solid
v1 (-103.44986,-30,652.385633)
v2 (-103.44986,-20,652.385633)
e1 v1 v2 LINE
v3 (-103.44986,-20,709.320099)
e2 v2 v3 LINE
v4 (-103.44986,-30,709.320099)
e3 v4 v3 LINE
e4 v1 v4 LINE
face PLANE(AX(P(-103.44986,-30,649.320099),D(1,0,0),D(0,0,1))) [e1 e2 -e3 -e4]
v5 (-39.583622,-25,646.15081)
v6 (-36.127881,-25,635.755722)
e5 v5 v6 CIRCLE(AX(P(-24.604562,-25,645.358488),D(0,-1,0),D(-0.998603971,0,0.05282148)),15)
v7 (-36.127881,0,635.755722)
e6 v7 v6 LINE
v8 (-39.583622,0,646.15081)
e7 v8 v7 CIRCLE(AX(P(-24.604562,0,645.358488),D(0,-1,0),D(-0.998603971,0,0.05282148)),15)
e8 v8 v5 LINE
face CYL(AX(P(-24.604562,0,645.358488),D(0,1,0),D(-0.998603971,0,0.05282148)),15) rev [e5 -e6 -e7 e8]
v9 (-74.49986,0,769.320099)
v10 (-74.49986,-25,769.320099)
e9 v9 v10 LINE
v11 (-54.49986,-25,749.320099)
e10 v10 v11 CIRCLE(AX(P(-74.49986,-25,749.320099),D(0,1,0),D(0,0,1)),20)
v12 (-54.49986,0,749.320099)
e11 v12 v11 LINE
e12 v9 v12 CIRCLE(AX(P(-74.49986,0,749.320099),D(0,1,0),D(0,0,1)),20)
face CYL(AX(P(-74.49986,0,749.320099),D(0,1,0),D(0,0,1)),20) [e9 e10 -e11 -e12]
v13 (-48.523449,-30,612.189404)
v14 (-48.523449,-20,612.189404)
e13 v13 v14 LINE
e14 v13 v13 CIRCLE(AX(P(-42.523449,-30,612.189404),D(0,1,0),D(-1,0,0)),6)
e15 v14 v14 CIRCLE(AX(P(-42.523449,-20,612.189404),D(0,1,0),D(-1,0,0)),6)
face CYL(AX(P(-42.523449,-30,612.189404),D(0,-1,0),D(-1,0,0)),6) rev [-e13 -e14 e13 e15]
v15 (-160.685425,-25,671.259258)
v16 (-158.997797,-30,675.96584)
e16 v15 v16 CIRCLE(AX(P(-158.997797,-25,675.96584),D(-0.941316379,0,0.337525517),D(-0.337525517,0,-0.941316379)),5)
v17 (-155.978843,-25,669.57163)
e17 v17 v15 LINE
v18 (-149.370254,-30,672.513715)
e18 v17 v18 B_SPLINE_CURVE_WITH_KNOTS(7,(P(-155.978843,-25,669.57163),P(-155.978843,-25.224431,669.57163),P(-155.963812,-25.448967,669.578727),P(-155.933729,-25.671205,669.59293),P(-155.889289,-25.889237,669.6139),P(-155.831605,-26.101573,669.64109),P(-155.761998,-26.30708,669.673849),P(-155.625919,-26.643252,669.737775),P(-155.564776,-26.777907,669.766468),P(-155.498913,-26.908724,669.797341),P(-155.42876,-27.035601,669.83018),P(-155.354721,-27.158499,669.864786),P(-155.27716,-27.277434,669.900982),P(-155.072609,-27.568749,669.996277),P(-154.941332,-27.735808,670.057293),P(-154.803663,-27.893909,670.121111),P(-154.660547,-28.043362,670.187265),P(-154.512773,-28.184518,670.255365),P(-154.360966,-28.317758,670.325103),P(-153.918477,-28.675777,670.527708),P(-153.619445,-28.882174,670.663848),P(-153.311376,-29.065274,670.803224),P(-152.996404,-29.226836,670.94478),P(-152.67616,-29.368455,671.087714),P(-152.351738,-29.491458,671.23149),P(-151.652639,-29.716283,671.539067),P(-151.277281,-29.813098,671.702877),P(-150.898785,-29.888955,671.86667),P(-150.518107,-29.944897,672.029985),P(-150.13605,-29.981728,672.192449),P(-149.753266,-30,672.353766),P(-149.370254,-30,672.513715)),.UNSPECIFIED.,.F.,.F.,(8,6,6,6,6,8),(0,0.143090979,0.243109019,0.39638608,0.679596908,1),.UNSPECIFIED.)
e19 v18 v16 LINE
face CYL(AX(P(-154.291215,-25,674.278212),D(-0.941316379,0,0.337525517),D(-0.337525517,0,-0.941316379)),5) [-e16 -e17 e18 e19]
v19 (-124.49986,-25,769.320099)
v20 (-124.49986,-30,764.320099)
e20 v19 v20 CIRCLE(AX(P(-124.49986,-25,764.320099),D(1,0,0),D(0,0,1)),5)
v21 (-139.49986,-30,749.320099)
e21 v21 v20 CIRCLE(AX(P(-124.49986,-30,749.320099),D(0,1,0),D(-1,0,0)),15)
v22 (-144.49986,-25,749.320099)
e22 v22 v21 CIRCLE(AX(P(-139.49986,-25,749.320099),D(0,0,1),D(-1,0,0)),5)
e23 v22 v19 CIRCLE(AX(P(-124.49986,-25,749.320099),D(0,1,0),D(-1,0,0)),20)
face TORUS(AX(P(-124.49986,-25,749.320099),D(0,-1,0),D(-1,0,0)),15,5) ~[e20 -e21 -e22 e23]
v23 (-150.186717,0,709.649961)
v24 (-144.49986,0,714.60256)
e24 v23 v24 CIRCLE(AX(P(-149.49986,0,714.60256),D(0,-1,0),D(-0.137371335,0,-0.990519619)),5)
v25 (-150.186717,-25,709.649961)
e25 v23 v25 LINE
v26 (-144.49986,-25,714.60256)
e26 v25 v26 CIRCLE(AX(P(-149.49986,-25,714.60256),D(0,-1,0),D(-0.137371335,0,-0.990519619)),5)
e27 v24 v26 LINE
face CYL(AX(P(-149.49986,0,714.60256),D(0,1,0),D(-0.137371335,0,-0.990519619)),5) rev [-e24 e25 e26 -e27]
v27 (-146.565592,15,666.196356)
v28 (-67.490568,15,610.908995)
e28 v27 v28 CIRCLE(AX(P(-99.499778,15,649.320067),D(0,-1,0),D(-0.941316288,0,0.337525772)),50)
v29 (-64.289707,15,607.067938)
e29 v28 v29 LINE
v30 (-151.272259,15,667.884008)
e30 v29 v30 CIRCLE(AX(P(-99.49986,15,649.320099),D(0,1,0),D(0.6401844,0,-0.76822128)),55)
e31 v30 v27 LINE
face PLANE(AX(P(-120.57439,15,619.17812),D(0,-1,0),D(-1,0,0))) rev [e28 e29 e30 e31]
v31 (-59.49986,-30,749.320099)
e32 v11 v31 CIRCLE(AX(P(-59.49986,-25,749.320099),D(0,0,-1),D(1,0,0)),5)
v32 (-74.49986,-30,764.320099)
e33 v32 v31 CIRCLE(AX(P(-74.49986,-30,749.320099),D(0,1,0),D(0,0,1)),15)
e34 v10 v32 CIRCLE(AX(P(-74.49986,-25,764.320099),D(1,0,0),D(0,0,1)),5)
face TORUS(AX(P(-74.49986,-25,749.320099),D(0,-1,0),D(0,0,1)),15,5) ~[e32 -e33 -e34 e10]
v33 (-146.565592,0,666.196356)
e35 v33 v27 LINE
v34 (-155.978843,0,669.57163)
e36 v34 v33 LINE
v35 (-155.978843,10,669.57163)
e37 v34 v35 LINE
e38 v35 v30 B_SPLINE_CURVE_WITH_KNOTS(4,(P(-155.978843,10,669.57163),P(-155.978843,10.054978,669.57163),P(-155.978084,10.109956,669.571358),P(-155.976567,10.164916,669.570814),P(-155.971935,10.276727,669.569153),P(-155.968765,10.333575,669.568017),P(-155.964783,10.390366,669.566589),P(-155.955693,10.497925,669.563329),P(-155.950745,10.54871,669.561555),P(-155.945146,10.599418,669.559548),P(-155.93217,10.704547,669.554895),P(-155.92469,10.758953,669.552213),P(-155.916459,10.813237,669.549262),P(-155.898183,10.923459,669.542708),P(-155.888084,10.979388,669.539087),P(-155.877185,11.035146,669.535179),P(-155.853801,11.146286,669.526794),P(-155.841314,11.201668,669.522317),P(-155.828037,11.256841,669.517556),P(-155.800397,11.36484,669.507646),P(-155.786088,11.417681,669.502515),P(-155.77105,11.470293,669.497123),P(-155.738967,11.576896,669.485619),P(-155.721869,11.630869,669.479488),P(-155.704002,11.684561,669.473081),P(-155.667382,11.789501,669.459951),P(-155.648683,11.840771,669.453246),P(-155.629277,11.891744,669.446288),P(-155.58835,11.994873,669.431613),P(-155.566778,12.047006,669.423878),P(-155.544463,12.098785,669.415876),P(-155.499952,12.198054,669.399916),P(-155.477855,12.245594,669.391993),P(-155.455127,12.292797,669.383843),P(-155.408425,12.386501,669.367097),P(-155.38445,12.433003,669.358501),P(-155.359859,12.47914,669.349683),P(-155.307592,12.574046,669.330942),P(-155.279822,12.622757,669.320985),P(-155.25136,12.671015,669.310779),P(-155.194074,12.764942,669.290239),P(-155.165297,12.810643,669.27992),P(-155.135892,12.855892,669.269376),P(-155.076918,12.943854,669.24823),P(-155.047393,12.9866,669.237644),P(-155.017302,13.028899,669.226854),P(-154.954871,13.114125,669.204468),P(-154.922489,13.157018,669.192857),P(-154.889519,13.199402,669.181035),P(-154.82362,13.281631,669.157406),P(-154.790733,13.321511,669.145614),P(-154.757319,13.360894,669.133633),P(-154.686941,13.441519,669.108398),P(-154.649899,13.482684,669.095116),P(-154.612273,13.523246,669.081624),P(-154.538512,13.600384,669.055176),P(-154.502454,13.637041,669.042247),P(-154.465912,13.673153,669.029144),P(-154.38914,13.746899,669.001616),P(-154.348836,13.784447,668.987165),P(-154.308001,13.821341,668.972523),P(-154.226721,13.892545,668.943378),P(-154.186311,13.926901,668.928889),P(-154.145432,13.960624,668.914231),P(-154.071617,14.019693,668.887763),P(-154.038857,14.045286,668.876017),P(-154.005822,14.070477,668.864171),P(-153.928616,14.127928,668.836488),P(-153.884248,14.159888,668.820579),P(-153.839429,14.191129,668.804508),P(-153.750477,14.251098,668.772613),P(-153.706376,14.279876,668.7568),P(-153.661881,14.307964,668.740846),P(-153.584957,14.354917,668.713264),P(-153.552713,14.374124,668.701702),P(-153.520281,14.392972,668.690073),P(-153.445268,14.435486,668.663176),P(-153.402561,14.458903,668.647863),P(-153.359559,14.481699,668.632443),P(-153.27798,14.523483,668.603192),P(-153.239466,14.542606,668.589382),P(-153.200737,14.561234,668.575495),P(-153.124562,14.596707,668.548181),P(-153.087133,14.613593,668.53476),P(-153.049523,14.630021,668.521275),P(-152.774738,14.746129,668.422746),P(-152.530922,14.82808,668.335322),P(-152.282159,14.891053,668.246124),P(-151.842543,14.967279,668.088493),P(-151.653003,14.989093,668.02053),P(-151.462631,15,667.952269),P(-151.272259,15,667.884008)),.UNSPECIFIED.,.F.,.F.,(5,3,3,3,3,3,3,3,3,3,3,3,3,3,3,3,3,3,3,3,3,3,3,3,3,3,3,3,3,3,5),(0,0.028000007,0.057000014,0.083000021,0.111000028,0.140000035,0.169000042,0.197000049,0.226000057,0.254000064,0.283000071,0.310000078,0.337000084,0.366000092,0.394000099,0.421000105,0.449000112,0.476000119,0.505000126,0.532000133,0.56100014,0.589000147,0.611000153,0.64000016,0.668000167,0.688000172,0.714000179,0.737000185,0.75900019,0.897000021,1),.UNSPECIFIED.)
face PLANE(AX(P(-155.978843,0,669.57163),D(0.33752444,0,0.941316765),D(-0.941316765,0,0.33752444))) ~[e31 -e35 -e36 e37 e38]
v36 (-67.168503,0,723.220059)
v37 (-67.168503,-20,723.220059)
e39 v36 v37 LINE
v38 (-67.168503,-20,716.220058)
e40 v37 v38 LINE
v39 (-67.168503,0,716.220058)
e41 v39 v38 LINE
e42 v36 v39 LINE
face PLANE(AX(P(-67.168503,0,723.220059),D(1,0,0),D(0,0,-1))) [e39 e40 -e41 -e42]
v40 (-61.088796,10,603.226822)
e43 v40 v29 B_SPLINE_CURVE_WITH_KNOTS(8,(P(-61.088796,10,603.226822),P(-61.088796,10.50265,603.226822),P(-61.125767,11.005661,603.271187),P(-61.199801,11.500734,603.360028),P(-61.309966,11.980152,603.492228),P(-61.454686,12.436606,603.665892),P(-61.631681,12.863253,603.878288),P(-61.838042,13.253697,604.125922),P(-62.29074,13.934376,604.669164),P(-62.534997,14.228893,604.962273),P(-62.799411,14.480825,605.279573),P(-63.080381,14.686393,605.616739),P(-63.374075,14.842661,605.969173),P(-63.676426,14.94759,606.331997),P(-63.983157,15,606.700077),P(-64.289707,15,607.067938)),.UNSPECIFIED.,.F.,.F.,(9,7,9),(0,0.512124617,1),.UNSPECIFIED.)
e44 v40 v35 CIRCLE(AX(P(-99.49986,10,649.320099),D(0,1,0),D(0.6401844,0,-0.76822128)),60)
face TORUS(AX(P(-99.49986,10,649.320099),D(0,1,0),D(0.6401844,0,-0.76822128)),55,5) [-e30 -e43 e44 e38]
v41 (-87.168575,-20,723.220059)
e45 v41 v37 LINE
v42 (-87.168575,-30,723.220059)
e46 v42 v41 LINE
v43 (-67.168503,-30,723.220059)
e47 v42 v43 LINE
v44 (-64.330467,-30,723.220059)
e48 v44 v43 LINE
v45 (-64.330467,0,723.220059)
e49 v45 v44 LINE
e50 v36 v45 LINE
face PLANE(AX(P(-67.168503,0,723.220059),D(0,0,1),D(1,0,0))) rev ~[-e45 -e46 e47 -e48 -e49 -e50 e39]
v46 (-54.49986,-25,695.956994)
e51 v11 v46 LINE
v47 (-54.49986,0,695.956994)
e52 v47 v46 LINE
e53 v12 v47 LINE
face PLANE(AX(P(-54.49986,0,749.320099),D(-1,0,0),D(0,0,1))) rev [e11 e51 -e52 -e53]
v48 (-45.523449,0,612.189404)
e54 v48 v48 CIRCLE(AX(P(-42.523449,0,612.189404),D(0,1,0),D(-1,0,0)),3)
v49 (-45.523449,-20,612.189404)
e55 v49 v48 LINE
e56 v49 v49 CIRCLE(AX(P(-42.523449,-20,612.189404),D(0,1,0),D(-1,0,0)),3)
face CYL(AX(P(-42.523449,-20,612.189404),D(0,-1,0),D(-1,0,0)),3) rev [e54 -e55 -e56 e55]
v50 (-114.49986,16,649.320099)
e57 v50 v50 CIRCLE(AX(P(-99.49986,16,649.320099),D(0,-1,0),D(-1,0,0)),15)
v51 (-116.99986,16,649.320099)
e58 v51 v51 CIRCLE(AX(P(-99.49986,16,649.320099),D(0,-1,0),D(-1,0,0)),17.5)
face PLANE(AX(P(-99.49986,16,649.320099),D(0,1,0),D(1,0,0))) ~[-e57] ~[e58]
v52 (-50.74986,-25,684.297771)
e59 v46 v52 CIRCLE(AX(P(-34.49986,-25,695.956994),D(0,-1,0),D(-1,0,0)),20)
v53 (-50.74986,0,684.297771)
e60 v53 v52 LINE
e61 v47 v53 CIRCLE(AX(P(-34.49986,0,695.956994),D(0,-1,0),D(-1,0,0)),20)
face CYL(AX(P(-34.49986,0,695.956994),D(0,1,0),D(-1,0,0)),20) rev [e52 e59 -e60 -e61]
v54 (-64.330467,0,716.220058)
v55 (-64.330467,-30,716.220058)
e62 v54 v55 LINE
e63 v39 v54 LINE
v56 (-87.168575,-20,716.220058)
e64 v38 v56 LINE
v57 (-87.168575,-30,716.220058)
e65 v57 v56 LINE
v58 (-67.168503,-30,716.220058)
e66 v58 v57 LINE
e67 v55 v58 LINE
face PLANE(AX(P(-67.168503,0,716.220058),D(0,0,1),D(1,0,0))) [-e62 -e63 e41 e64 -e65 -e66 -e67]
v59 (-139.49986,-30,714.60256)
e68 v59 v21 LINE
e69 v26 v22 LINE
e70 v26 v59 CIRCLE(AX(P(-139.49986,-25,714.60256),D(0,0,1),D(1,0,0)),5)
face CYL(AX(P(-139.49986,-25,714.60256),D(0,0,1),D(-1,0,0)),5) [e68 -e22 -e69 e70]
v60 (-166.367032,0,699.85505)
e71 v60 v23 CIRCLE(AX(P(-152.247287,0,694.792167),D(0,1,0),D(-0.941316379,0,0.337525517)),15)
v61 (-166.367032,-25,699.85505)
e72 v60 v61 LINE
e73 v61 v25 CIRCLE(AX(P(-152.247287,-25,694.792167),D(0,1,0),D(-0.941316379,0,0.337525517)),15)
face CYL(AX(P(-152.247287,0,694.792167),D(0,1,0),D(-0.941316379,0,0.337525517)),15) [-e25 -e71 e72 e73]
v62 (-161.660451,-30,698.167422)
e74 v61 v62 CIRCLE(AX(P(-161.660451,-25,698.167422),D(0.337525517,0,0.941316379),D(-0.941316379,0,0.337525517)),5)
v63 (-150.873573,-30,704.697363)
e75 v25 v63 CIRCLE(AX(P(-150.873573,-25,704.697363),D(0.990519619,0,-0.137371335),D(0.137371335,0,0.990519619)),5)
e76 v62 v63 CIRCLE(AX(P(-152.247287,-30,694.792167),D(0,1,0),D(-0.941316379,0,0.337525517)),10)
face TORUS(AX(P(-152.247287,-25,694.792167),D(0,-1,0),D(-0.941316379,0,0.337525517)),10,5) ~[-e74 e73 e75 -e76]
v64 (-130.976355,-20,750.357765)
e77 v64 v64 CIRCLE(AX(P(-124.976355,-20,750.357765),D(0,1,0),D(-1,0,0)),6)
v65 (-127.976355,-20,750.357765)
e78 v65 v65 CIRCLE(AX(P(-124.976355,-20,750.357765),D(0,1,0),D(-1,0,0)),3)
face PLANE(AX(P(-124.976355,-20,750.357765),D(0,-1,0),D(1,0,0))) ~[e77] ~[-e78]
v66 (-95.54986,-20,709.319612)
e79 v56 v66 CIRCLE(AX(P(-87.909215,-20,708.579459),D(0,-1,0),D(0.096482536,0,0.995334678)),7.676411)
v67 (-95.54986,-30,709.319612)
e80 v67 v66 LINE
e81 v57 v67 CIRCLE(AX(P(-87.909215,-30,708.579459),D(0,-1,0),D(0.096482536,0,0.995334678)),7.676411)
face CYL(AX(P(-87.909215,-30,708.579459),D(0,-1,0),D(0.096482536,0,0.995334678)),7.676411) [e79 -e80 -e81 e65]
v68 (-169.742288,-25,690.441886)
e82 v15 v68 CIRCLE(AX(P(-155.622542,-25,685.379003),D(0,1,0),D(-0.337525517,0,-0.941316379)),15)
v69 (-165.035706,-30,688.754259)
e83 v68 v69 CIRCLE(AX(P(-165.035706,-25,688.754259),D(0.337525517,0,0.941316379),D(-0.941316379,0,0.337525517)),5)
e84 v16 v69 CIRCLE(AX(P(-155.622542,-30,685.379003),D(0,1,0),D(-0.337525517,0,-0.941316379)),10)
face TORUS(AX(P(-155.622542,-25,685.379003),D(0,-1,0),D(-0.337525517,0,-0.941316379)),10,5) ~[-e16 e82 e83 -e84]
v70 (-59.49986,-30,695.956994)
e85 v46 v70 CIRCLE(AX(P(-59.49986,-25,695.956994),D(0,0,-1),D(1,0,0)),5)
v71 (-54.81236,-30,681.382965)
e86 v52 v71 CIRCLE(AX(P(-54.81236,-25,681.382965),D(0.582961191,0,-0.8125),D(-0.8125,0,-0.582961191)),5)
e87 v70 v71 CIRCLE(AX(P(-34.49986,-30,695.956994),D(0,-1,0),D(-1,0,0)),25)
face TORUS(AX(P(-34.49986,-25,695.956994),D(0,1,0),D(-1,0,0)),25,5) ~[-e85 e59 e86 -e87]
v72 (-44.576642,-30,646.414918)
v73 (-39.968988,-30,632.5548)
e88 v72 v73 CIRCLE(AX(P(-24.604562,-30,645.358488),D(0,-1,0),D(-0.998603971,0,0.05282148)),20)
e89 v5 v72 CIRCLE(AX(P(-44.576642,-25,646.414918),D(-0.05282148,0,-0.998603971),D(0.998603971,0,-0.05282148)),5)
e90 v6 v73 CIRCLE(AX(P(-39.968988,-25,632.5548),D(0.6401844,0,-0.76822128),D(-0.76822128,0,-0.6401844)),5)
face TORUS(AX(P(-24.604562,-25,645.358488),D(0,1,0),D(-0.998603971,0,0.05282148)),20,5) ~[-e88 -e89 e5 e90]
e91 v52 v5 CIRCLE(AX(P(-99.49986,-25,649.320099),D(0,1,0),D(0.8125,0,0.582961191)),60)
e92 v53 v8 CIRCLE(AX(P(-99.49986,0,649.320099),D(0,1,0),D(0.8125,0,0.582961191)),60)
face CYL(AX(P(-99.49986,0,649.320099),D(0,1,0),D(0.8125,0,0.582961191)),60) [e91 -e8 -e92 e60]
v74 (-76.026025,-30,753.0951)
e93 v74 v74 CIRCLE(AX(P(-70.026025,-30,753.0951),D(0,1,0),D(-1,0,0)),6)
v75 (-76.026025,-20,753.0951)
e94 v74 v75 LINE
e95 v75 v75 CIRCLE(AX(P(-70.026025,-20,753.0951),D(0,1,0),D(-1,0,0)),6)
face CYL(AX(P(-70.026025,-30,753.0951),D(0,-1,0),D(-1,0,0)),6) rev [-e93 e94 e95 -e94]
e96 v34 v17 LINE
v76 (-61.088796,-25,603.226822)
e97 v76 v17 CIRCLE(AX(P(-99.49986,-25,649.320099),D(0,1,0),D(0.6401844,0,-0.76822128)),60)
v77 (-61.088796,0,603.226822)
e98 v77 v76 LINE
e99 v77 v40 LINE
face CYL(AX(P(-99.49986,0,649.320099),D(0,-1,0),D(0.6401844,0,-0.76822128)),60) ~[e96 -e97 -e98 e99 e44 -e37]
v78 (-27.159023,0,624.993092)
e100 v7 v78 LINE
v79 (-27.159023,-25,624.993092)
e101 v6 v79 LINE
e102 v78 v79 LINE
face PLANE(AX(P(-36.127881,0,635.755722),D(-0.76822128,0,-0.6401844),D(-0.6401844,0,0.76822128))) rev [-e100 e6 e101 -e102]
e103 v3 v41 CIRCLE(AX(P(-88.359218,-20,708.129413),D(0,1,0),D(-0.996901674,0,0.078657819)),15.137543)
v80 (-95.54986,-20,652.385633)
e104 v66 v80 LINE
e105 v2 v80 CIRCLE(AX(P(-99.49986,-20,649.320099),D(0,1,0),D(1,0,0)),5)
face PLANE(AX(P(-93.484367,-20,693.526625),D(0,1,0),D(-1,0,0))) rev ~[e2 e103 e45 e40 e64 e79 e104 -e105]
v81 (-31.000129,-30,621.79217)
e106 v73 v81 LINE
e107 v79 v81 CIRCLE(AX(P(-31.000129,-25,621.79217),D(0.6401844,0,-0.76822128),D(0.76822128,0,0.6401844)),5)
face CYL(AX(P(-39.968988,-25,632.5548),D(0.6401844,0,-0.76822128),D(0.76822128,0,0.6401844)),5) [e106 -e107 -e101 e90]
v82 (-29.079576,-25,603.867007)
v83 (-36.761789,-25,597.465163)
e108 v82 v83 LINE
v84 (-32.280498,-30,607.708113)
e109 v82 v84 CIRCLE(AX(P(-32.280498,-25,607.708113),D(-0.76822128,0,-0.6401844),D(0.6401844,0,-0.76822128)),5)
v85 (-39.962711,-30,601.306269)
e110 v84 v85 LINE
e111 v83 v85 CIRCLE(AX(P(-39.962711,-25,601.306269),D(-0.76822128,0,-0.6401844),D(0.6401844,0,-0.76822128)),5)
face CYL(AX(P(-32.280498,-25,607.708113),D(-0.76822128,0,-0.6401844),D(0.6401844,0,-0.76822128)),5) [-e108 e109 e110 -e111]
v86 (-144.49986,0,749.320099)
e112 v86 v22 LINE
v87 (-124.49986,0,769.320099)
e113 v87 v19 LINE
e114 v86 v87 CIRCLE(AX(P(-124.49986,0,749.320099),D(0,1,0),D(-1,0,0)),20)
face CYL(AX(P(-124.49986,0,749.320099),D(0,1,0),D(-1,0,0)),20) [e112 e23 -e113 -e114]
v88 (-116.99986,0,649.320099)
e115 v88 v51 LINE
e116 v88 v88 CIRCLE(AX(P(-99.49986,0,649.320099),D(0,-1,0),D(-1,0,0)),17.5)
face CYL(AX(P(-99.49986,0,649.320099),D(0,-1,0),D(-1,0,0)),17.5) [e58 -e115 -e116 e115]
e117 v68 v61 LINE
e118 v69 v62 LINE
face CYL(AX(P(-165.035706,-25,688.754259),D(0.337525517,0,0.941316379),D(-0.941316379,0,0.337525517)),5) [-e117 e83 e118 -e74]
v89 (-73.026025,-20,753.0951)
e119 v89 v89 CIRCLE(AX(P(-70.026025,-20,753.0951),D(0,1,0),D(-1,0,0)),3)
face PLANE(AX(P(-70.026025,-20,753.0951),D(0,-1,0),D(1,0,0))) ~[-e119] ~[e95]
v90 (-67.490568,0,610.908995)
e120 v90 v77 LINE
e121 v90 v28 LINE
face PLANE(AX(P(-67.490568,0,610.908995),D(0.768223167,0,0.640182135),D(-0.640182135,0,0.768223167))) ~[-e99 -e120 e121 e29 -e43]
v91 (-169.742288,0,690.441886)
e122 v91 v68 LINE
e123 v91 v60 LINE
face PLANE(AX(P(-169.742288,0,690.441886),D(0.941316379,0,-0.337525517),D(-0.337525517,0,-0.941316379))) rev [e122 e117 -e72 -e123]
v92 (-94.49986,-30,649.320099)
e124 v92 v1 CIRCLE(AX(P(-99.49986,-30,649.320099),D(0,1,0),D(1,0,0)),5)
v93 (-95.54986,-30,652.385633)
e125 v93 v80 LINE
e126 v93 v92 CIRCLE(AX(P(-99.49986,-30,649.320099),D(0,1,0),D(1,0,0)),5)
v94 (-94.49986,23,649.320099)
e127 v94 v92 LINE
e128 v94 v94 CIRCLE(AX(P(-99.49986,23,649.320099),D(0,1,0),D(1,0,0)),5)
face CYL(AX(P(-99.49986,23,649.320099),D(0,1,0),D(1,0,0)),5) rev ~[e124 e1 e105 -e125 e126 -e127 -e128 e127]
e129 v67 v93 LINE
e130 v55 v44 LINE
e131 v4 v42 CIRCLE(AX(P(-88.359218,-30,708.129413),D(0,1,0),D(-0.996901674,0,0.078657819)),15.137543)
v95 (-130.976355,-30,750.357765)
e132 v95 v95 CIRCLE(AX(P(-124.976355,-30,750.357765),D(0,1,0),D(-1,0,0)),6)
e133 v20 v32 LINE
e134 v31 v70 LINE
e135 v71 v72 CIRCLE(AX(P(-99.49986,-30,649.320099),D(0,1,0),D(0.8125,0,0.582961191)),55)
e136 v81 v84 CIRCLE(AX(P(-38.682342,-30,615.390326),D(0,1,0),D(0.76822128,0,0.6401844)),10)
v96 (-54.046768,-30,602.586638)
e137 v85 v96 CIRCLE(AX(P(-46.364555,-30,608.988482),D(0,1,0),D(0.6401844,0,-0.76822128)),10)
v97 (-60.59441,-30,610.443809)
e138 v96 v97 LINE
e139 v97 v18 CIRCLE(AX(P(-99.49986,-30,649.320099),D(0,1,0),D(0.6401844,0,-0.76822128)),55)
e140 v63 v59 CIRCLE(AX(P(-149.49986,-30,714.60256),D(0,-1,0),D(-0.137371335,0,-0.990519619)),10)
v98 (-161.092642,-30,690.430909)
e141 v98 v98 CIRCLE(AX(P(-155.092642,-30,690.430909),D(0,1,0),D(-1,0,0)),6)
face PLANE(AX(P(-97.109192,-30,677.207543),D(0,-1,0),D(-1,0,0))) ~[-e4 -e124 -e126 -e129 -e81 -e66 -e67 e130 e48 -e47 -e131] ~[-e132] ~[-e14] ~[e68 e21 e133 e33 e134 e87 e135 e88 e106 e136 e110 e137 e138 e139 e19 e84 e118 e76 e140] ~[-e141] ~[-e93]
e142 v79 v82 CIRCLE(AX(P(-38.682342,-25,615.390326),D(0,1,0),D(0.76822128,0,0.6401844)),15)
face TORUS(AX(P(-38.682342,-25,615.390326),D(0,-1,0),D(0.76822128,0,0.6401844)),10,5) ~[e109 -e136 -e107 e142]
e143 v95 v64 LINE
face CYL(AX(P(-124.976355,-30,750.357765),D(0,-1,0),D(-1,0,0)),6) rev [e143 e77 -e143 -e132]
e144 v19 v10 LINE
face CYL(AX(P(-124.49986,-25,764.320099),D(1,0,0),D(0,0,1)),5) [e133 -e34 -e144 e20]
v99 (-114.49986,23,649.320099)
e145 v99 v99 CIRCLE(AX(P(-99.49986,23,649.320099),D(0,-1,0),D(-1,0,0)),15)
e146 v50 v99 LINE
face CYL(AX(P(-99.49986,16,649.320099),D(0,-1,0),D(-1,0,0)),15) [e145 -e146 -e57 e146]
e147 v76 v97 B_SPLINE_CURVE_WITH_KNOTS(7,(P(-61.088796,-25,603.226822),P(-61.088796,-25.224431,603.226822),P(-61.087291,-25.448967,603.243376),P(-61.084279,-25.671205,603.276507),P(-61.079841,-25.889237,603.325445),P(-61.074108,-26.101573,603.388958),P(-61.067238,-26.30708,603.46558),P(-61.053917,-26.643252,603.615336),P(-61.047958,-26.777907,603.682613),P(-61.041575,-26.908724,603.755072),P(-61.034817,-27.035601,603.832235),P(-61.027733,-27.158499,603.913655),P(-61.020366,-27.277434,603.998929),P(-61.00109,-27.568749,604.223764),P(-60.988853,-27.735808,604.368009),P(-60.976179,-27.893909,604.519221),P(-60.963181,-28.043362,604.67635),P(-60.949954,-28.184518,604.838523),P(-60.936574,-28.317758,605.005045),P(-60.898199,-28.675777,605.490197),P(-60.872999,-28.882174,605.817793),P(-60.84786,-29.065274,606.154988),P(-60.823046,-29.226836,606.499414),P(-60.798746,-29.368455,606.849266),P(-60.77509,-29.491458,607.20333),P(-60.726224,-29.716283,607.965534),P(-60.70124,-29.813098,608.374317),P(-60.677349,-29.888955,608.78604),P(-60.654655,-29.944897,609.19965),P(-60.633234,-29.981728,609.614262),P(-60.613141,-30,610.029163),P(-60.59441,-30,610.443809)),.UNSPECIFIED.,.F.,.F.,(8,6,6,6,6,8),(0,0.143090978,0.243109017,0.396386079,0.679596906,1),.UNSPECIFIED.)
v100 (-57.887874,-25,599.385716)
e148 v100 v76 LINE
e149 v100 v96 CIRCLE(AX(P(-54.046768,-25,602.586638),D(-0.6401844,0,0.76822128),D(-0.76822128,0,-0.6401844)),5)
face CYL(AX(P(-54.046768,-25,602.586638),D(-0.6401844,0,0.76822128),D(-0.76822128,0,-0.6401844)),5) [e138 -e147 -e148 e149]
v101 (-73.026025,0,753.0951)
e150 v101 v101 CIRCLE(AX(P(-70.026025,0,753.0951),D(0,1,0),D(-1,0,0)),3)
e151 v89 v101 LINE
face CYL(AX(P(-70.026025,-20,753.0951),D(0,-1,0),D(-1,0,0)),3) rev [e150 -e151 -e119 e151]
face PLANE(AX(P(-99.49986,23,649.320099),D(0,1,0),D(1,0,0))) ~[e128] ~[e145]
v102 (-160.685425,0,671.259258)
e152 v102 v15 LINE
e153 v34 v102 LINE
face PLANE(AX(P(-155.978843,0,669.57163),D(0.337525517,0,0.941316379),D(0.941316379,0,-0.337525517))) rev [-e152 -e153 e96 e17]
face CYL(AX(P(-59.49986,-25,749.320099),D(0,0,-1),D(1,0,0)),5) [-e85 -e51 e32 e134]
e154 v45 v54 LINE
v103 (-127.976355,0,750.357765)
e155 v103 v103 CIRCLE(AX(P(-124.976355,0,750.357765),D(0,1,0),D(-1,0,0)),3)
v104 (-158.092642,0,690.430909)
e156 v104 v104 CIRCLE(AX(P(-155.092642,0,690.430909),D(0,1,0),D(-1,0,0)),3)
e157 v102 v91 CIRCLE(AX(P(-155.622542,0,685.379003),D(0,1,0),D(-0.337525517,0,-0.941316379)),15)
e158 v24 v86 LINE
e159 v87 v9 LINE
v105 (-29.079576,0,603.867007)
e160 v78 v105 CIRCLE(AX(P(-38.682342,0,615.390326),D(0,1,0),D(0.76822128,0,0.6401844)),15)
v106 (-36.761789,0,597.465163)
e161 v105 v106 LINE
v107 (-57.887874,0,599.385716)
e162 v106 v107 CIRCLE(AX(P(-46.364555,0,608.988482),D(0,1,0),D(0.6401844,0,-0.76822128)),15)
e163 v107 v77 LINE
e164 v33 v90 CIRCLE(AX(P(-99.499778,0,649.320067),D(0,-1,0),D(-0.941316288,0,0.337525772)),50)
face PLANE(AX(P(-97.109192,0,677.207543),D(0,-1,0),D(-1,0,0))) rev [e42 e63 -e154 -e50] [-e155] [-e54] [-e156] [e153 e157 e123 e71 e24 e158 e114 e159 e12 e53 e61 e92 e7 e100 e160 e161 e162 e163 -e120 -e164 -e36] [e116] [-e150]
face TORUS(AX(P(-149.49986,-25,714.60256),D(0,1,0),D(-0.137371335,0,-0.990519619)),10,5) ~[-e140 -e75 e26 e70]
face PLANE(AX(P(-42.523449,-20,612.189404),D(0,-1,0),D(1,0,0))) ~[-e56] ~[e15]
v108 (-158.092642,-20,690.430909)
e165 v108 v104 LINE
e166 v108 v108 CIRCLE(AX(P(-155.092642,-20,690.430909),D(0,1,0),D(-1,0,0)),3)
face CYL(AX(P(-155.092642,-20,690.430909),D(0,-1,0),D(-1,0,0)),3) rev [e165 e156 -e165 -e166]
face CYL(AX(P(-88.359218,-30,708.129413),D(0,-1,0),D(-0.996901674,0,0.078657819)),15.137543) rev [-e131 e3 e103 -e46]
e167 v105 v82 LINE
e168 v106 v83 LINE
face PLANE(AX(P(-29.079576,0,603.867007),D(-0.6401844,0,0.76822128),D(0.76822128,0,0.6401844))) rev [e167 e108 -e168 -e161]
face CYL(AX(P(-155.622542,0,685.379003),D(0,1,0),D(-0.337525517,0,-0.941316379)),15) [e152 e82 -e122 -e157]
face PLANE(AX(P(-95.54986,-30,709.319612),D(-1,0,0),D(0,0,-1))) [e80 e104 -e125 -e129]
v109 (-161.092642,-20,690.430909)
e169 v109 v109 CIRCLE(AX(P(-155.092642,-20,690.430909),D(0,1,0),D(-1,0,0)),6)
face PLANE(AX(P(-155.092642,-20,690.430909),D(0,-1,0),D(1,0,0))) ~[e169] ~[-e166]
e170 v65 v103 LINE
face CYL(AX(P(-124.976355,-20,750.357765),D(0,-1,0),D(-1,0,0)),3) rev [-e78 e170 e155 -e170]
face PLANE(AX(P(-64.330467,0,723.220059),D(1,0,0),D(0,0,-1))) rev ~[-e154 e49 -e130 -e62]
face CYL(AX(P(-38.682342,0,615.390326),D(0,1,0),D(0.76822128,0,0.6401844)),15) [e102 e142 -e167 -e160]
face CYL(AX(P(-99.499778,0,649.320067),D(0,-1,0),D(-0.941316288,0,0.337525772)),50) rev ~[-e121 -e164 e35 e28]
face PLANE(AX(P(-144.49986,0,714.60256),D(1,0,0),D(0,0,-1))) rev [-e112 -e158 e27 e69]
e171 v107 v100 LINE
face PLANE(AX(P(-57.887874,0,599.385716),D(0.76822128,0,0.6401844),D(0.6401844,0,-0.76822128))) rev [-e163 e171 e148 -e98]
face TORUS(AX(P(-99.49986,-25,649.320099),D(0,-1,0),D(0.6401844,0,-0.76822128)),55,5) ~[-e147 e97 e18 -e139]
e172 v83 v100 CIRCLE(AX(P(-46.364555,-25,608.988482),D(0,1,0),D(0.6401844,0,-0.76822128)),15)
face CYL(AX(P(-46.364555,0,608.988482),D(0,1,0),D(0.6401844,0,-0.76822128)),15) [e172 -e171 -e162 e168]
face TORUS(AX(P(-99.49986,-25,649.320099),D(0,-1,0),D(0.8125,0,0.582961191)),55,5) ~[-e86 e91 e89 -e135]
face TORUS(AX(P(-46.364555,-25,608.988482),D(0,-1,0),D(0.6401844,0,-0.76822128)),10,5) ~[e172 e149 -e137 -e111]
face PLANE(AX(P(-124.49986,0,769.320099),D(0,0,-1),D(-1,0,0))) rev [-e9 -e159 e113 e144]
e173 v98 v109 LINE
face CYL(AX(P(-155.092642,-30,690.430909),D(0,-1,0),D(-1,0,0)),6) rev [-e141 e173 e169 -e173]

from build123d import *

# Parameters (mm, degrees)
BOSS_EXTRUDE1_DEPTH = 30
SKETCH3_R           = 6
CUT_EXTRUDE2_DEPTH  = 10
CUT_EXTRUDE3_REACH  = 22
SKETCH4_R           = 3
SKETCH5_R           = 17.5
BOSS_EXTRUDE2_DEPTH = 16
SKETCH6_R           = 15
BOSS_EXTRUDE3_DEPTH = 7
BOSS_EXTRUDE4_DEPTH = 15
FILLET1_R           = 5
CUT_EXTRUDE4_REACH  = 55
SKETCH8_R           = 5
CUT_EXTRUDE5_REACH  = 32
SKETCH9_W           = 2.838035454
SKETCH9_H           = 7.000000767
CUT_EXTRUDE6_DEPTH  = 10


with BuildPart() as part:
    # Sketch1 → Boss-Extrude1 (new body)
    with BuildSketch(Plane(origin=(0, 0, 0), x_dir=(-1, 0, 0), z_dir=(0, -1, 0))):
        with BuildLine():
            Line((-155.978842812, -669.571630145), (-160.685424707, -671.259257732))
            ThreePointArc((-160.685424707, -671.259257732), (-169.1867086, -678.974834226), (-169.742287629, -690.441886175))
            Line((-169.742287629, -690.441886175), (-166.367032456, -699.855049964))
            ThreePointArc((-166.367032456, -699.855049964), (-160.015233889, -707.624119417), (-150.186716753, -709.649961495))
            ThreePointArc((-150.186716753, -709.649961495), (-146.216133795, -710.831997076), (-144.49986008, -714.602559592))
            Line((-144.49986008, -714.602559592), (-144.49986008, -749.320099104))
            ThreePointArc((-144.49986008, -749.320099104), (-138.641995704, -763.462234727), (-124.49986008, -769.320099104))
            Line((-124.49986008, -769.320099104), (-74.49986008, -769.320099104))
            ThreePointArc((-74.49986008, -769.320099104), (-60.357724456, -763.462234727), (-54.49986008, -749.320099104))
            Line((-54.49986008, -749.320099104), (-54.49986008, -695.956994369))
            ThreePointArc((-54.49986008, -695.956994369), (-53.539292845, -689.833270012), (-50.74986008, -684.297770553))
            ThreePointArc((-50.74986008, -684.297770553), (-41.916134266, -666.175796103), (-39.583621808, -646.150810326))
            ThreePointArc((-39.583621808, -646.150810326), (-38.838622962, -640.626520742), (-36.127881434, -635.755722136))
            Line((-36.127881434, -635.755722136), (-27.159022918, -624.993091916))
            ThreePointArc((-27.159022918, -624.993091916), (-23.743944015, -614.032289731), (-29.079576117, -603.867006728))
            Line((-29.079576117, -603.867006728), (-36.761788913, -597.465162731))
            ThreePointArc((-36.761788913, -597.465162731), (-47.722591099, -594.050083828), (-57.887874102, -599.38571593))
            Line((-57.887874102, -599.38571593), (-61.0887961, -603.226822328))
            ThreePointArc((-61.0887961, -603.226822328), (-133.880389498, -600.14714722), (-155.978842812, -669.571630145))
        make_face()
    extrude(amount=BOSS_EXTRUDE1_DEPTH)

    # Sketch3 → Cut-Extrude2 (cut)
    with BuildSketch(Plane.XZ.offset(30)):
        with Locations((42.52344851, 612.189403923)):
            Circle(SKETCH3_R)
        with Locations((155.092642393, 690.430908662)):
            Circle(SKETCH3_R)
        with Locations((124.976355339, 750.357765174)):
            Circle(SKETCH3_R)
        with Locations((70.026025263, 753.095100306)):
            Circle(SKETCH3_R)
    extrude(amount=-CUT_EXTRUDE2_DEPTH, mode=Mode.SUBTRACT)

    # Sketch4 → Cut-Extrude3 (cut, up to next)
    with BuildSketch(Plane.XZ.offset(20), mode=Mode.PRIVATE) as cut_extrude3_sk1:
        with Locations((42.52344851, 612.189403923)):
            Circle(SKETCH4_R)
    cut_extrude3_tool1 = extrude(cut_extrude3_sk1.sketch, amount=-CUT_EXTRUDE3_REACH, mode=Mode.PRIVATE) & part.part
    add(cut_extrude3_tool1.solids().sort_by_distance((42.523449, -20, 612.189404))[0], mode=Mode.SUBTRACT)
    # Sketch4 → Cut-Extrude3 (cut, up to next)
    with BuildSketch(Plane.XZ.offset(20), mode=Mode.PRIVATE) as cut_extrude3_sk2:
        with Locations((155.092642393, 690.430908662)):
            Circle(SKETCH4_R)
    cut_extrude3_tool2 = extrude(cut_extrude3_sk2.sketch, amount=-CUT_EXTRUDE3_REACH, mode=Mode.PRIVATE) & part.part
    add(cut_extrude3_tool2.solids().sort_by_distance((155.092642, -20, 690.430909))[0], mode=Mode.SUBTRACT)
    # Sketch4 → Cut-Extrude3 (cut, up to next)
    with BuildSketch(Plane.XZ.offset(20), mode=Mode.PRIVATE) as cut_extrude3_sk3:
        with Locations((124.976355339, 750.357765174)):
            Circle(SKETCH4_R)
    cut_extrude3_tool3 = extrude(cut_extrude3_sk3.sketch, amount=-CUT_EXTRUDE3_REACH, mode=Mode.PRIVATE) & part.part
    add(cut_extrude3_tool3.solids().sort_by_distance((124.976355, -20, 750.357765))[0], mode=Mode.SUBTRACT)
    # Sketch4 → Cut-Extrude3 (cut, up to next)
    with BuildSketch(Plane.XZ.offset(20), mode=Mode.PRIVATE) as cut_extrude3_sk4:
        with Locations((70.026025263, 753.095100306)):
            Circle(SKETCH4_R)
    cut_extrude3_tool4 = extrude(cut_extrude3_sk4.sketch, amount=-CUT_EXTRUDE3_REACH, mode=Mode.PRIVATE) & part.part
    add(cut_extrude3_tool4.solids().sort_by_distance((70.026025, -20, 753.0951))[0], mode=Mode.SUBTRACT)

    # Sketch5 → Boss-Extrude2 (add)
    with BuildSketch(Plane(origin=(0, 0, 0), x_dir=(1, 0, 0), z_dir=(0, 1, 0))):
        with Locations((99.49986008, -649.320099104)):
            Circle(SKETCH5_R)
    extrude(amount=BOSS_EXTRUDE2_DEPTH)

    # Sketch6 → Boss-Extrude3 (add)
    with BuildSketch(Plane(origin=(0, 16, 0), x_dir=(1, 0, 0), z_dir=(0, 1, 0))):
        with Locations((99.49986008, -649.320099104)):
            Circle(SKETCH6_R)
    extrude(amount=BOSS_EXTRUDE3_DEPTH)

    # Sketch7 → Boss-Extrude4 (add)
    with BuildSketch(Plane(origin=(0, 0, 0), x_dir=(1, 0, 0), z_dir=(0, 1, 0))):
        with BuildLine():
            Line((155.978842812, -669.571630145), (146.565591992, -666.196355925))
            ThreePointArc((146.565591992, -666.196355925), (128.150229883, -608.342615172), (67.490568023, -610.908994684))
            Line((67.490568023, -610.908994684), (61.0887961, -603.226822328))
            ThreePointArc((61.0887961, -603.226822328), (133.880389498, -600.14714722), (155.978842812, -669.571630145))
        make_face()
    extrude(amount=BOSS_EXTRUDE4_DEPTH)

    # Fillet1
    fillet1_edges = [part.edges().sort_by_distance(p)[0] for p in [
        (133.880389498, 15, 600.14714722),
        (23.743944015, -30, 614.032289731),
        (32.920682515, -30, 600.666084729),
        (47.722591099, -30, 594.050083828),
        (59.488335101, -30, 601.306269129),
        (133.880389498, -30, 600.14714722),
        (158.332133759, -30, 670.415443939),
        (169.1867086, -30, 678.974834226),
        (168.054660043, -30, 695.14846807),
        (160.015233889, -30, 707.624119417),
        (146.216133795, -30, 710.831997076),
        (38.838622962, -30, 640.626520742),
        (144.49986008, -30, 731.961329348),
        (138.641995704, -30, 763.462234727),
        (99.49986008, -30, 769.320099104),
        (60.357724456, -30, 763.462234727),
        (54.49986008, -30, 722.638546736),
        (53.539292845, -30, 689.833270012),
        (41.916134266, -30, 666.175796103),
        (31.643452176, -30, 630.374407026),
    ]]
    fillet(fillet1_edges, radius=FILLET1_R)


with BuildPart() as body_2:
    # Mirror1: mirrored copy
    add(part.part.mirror(Plane(origin=(0, 0, 0), x_dir=(0, 0, 1), z_dir=(1, 0, 0))))

    # Sketch8 → Cut-Extrude4 (cut, up to next)
    with BuildSketch(Plane(origin=(0, 23, 0), x_dir=(1, 0, 0), z_dir=(0, 1, 0)), mode=Mode.PRIVATE) as cut_extrude4_sk1:
        with Locations((-99.49986008, -649.320099104)):
            Circle(SKETCH8_R)
    cut_extrude4_tool1 = extrude(cut_extrude4_sk1.sketch, amount=-CUT_EXTRUDE4_REACH, mode=Mode.PRIVATE) & body_2.part
    add(cut_extrude4_tool1.solids().sort_by_distance((-99.49986, 23, 649.320099))[0], mode=Mode.SUBTRACT)

    # Sketch9 → Cut-Extrude5 (cut, up to next)
    with BuildSketch(Plane(origin=(0, 0, 0), x_dir=(1, 0, 0), z_dir=(0, 1, 0)), mode=Mode.PRIVATE) as cut_extrude5_sk1:
        with Locations((-65.749484781, -719.720058193)):
            Rectangle(SKETCH9_W, SKETCH9_H)
    cut_extrude5_tool1 = extrude(cut_extrude5_sk1.sketch, amount=-CUT_EXTRUDE5_REACH, mode=Mode.PRIVATE) & body_2.part
    add(cut_extrude5_tool1.solids().sort_by_distance((-65.749485, 0, 719.720058))[0], mode=Mode.SUBTRACT)

    # Sketch10 → Cut-Extrude6 (cut)
    with BuildSketch(Plane.XZ.offset(30)):
        with BuildLine():
            Line((-67.168502508, 716.220057809), (-87.168574927, 716.220057809))
            ThreePointArc((-87.168574927, 716.220057809), (-92.788411024, 714.505734169), (-95.54986008, 709.319612071))
            Line((-95.54986008, 709.319612071), (-95.54986008, 649.320099104))
            Line((-95.54986008, 649.320099104), (-103.44986008, 649.320099104))
            Line((-103.44986008, 649.320099104), (-103.44986008, 709.320099104))
            ThreePointArc((-103.44986008, 709.320099104), (-98.187987541, 719.642036576), (-87.168574927, 723.220058576))
            Line((-87.168574927, 723.220058576), (-67.168502508, 723.220058576))
            Line((-67.168502508, 723.220058576), (-67.168502508, 716.220057809))
        make_face()
    extrude(amount=-CUT_EXTRUDE6_DEPTH, mode=Mode.SUBTRACT)


solid = body_2.part
